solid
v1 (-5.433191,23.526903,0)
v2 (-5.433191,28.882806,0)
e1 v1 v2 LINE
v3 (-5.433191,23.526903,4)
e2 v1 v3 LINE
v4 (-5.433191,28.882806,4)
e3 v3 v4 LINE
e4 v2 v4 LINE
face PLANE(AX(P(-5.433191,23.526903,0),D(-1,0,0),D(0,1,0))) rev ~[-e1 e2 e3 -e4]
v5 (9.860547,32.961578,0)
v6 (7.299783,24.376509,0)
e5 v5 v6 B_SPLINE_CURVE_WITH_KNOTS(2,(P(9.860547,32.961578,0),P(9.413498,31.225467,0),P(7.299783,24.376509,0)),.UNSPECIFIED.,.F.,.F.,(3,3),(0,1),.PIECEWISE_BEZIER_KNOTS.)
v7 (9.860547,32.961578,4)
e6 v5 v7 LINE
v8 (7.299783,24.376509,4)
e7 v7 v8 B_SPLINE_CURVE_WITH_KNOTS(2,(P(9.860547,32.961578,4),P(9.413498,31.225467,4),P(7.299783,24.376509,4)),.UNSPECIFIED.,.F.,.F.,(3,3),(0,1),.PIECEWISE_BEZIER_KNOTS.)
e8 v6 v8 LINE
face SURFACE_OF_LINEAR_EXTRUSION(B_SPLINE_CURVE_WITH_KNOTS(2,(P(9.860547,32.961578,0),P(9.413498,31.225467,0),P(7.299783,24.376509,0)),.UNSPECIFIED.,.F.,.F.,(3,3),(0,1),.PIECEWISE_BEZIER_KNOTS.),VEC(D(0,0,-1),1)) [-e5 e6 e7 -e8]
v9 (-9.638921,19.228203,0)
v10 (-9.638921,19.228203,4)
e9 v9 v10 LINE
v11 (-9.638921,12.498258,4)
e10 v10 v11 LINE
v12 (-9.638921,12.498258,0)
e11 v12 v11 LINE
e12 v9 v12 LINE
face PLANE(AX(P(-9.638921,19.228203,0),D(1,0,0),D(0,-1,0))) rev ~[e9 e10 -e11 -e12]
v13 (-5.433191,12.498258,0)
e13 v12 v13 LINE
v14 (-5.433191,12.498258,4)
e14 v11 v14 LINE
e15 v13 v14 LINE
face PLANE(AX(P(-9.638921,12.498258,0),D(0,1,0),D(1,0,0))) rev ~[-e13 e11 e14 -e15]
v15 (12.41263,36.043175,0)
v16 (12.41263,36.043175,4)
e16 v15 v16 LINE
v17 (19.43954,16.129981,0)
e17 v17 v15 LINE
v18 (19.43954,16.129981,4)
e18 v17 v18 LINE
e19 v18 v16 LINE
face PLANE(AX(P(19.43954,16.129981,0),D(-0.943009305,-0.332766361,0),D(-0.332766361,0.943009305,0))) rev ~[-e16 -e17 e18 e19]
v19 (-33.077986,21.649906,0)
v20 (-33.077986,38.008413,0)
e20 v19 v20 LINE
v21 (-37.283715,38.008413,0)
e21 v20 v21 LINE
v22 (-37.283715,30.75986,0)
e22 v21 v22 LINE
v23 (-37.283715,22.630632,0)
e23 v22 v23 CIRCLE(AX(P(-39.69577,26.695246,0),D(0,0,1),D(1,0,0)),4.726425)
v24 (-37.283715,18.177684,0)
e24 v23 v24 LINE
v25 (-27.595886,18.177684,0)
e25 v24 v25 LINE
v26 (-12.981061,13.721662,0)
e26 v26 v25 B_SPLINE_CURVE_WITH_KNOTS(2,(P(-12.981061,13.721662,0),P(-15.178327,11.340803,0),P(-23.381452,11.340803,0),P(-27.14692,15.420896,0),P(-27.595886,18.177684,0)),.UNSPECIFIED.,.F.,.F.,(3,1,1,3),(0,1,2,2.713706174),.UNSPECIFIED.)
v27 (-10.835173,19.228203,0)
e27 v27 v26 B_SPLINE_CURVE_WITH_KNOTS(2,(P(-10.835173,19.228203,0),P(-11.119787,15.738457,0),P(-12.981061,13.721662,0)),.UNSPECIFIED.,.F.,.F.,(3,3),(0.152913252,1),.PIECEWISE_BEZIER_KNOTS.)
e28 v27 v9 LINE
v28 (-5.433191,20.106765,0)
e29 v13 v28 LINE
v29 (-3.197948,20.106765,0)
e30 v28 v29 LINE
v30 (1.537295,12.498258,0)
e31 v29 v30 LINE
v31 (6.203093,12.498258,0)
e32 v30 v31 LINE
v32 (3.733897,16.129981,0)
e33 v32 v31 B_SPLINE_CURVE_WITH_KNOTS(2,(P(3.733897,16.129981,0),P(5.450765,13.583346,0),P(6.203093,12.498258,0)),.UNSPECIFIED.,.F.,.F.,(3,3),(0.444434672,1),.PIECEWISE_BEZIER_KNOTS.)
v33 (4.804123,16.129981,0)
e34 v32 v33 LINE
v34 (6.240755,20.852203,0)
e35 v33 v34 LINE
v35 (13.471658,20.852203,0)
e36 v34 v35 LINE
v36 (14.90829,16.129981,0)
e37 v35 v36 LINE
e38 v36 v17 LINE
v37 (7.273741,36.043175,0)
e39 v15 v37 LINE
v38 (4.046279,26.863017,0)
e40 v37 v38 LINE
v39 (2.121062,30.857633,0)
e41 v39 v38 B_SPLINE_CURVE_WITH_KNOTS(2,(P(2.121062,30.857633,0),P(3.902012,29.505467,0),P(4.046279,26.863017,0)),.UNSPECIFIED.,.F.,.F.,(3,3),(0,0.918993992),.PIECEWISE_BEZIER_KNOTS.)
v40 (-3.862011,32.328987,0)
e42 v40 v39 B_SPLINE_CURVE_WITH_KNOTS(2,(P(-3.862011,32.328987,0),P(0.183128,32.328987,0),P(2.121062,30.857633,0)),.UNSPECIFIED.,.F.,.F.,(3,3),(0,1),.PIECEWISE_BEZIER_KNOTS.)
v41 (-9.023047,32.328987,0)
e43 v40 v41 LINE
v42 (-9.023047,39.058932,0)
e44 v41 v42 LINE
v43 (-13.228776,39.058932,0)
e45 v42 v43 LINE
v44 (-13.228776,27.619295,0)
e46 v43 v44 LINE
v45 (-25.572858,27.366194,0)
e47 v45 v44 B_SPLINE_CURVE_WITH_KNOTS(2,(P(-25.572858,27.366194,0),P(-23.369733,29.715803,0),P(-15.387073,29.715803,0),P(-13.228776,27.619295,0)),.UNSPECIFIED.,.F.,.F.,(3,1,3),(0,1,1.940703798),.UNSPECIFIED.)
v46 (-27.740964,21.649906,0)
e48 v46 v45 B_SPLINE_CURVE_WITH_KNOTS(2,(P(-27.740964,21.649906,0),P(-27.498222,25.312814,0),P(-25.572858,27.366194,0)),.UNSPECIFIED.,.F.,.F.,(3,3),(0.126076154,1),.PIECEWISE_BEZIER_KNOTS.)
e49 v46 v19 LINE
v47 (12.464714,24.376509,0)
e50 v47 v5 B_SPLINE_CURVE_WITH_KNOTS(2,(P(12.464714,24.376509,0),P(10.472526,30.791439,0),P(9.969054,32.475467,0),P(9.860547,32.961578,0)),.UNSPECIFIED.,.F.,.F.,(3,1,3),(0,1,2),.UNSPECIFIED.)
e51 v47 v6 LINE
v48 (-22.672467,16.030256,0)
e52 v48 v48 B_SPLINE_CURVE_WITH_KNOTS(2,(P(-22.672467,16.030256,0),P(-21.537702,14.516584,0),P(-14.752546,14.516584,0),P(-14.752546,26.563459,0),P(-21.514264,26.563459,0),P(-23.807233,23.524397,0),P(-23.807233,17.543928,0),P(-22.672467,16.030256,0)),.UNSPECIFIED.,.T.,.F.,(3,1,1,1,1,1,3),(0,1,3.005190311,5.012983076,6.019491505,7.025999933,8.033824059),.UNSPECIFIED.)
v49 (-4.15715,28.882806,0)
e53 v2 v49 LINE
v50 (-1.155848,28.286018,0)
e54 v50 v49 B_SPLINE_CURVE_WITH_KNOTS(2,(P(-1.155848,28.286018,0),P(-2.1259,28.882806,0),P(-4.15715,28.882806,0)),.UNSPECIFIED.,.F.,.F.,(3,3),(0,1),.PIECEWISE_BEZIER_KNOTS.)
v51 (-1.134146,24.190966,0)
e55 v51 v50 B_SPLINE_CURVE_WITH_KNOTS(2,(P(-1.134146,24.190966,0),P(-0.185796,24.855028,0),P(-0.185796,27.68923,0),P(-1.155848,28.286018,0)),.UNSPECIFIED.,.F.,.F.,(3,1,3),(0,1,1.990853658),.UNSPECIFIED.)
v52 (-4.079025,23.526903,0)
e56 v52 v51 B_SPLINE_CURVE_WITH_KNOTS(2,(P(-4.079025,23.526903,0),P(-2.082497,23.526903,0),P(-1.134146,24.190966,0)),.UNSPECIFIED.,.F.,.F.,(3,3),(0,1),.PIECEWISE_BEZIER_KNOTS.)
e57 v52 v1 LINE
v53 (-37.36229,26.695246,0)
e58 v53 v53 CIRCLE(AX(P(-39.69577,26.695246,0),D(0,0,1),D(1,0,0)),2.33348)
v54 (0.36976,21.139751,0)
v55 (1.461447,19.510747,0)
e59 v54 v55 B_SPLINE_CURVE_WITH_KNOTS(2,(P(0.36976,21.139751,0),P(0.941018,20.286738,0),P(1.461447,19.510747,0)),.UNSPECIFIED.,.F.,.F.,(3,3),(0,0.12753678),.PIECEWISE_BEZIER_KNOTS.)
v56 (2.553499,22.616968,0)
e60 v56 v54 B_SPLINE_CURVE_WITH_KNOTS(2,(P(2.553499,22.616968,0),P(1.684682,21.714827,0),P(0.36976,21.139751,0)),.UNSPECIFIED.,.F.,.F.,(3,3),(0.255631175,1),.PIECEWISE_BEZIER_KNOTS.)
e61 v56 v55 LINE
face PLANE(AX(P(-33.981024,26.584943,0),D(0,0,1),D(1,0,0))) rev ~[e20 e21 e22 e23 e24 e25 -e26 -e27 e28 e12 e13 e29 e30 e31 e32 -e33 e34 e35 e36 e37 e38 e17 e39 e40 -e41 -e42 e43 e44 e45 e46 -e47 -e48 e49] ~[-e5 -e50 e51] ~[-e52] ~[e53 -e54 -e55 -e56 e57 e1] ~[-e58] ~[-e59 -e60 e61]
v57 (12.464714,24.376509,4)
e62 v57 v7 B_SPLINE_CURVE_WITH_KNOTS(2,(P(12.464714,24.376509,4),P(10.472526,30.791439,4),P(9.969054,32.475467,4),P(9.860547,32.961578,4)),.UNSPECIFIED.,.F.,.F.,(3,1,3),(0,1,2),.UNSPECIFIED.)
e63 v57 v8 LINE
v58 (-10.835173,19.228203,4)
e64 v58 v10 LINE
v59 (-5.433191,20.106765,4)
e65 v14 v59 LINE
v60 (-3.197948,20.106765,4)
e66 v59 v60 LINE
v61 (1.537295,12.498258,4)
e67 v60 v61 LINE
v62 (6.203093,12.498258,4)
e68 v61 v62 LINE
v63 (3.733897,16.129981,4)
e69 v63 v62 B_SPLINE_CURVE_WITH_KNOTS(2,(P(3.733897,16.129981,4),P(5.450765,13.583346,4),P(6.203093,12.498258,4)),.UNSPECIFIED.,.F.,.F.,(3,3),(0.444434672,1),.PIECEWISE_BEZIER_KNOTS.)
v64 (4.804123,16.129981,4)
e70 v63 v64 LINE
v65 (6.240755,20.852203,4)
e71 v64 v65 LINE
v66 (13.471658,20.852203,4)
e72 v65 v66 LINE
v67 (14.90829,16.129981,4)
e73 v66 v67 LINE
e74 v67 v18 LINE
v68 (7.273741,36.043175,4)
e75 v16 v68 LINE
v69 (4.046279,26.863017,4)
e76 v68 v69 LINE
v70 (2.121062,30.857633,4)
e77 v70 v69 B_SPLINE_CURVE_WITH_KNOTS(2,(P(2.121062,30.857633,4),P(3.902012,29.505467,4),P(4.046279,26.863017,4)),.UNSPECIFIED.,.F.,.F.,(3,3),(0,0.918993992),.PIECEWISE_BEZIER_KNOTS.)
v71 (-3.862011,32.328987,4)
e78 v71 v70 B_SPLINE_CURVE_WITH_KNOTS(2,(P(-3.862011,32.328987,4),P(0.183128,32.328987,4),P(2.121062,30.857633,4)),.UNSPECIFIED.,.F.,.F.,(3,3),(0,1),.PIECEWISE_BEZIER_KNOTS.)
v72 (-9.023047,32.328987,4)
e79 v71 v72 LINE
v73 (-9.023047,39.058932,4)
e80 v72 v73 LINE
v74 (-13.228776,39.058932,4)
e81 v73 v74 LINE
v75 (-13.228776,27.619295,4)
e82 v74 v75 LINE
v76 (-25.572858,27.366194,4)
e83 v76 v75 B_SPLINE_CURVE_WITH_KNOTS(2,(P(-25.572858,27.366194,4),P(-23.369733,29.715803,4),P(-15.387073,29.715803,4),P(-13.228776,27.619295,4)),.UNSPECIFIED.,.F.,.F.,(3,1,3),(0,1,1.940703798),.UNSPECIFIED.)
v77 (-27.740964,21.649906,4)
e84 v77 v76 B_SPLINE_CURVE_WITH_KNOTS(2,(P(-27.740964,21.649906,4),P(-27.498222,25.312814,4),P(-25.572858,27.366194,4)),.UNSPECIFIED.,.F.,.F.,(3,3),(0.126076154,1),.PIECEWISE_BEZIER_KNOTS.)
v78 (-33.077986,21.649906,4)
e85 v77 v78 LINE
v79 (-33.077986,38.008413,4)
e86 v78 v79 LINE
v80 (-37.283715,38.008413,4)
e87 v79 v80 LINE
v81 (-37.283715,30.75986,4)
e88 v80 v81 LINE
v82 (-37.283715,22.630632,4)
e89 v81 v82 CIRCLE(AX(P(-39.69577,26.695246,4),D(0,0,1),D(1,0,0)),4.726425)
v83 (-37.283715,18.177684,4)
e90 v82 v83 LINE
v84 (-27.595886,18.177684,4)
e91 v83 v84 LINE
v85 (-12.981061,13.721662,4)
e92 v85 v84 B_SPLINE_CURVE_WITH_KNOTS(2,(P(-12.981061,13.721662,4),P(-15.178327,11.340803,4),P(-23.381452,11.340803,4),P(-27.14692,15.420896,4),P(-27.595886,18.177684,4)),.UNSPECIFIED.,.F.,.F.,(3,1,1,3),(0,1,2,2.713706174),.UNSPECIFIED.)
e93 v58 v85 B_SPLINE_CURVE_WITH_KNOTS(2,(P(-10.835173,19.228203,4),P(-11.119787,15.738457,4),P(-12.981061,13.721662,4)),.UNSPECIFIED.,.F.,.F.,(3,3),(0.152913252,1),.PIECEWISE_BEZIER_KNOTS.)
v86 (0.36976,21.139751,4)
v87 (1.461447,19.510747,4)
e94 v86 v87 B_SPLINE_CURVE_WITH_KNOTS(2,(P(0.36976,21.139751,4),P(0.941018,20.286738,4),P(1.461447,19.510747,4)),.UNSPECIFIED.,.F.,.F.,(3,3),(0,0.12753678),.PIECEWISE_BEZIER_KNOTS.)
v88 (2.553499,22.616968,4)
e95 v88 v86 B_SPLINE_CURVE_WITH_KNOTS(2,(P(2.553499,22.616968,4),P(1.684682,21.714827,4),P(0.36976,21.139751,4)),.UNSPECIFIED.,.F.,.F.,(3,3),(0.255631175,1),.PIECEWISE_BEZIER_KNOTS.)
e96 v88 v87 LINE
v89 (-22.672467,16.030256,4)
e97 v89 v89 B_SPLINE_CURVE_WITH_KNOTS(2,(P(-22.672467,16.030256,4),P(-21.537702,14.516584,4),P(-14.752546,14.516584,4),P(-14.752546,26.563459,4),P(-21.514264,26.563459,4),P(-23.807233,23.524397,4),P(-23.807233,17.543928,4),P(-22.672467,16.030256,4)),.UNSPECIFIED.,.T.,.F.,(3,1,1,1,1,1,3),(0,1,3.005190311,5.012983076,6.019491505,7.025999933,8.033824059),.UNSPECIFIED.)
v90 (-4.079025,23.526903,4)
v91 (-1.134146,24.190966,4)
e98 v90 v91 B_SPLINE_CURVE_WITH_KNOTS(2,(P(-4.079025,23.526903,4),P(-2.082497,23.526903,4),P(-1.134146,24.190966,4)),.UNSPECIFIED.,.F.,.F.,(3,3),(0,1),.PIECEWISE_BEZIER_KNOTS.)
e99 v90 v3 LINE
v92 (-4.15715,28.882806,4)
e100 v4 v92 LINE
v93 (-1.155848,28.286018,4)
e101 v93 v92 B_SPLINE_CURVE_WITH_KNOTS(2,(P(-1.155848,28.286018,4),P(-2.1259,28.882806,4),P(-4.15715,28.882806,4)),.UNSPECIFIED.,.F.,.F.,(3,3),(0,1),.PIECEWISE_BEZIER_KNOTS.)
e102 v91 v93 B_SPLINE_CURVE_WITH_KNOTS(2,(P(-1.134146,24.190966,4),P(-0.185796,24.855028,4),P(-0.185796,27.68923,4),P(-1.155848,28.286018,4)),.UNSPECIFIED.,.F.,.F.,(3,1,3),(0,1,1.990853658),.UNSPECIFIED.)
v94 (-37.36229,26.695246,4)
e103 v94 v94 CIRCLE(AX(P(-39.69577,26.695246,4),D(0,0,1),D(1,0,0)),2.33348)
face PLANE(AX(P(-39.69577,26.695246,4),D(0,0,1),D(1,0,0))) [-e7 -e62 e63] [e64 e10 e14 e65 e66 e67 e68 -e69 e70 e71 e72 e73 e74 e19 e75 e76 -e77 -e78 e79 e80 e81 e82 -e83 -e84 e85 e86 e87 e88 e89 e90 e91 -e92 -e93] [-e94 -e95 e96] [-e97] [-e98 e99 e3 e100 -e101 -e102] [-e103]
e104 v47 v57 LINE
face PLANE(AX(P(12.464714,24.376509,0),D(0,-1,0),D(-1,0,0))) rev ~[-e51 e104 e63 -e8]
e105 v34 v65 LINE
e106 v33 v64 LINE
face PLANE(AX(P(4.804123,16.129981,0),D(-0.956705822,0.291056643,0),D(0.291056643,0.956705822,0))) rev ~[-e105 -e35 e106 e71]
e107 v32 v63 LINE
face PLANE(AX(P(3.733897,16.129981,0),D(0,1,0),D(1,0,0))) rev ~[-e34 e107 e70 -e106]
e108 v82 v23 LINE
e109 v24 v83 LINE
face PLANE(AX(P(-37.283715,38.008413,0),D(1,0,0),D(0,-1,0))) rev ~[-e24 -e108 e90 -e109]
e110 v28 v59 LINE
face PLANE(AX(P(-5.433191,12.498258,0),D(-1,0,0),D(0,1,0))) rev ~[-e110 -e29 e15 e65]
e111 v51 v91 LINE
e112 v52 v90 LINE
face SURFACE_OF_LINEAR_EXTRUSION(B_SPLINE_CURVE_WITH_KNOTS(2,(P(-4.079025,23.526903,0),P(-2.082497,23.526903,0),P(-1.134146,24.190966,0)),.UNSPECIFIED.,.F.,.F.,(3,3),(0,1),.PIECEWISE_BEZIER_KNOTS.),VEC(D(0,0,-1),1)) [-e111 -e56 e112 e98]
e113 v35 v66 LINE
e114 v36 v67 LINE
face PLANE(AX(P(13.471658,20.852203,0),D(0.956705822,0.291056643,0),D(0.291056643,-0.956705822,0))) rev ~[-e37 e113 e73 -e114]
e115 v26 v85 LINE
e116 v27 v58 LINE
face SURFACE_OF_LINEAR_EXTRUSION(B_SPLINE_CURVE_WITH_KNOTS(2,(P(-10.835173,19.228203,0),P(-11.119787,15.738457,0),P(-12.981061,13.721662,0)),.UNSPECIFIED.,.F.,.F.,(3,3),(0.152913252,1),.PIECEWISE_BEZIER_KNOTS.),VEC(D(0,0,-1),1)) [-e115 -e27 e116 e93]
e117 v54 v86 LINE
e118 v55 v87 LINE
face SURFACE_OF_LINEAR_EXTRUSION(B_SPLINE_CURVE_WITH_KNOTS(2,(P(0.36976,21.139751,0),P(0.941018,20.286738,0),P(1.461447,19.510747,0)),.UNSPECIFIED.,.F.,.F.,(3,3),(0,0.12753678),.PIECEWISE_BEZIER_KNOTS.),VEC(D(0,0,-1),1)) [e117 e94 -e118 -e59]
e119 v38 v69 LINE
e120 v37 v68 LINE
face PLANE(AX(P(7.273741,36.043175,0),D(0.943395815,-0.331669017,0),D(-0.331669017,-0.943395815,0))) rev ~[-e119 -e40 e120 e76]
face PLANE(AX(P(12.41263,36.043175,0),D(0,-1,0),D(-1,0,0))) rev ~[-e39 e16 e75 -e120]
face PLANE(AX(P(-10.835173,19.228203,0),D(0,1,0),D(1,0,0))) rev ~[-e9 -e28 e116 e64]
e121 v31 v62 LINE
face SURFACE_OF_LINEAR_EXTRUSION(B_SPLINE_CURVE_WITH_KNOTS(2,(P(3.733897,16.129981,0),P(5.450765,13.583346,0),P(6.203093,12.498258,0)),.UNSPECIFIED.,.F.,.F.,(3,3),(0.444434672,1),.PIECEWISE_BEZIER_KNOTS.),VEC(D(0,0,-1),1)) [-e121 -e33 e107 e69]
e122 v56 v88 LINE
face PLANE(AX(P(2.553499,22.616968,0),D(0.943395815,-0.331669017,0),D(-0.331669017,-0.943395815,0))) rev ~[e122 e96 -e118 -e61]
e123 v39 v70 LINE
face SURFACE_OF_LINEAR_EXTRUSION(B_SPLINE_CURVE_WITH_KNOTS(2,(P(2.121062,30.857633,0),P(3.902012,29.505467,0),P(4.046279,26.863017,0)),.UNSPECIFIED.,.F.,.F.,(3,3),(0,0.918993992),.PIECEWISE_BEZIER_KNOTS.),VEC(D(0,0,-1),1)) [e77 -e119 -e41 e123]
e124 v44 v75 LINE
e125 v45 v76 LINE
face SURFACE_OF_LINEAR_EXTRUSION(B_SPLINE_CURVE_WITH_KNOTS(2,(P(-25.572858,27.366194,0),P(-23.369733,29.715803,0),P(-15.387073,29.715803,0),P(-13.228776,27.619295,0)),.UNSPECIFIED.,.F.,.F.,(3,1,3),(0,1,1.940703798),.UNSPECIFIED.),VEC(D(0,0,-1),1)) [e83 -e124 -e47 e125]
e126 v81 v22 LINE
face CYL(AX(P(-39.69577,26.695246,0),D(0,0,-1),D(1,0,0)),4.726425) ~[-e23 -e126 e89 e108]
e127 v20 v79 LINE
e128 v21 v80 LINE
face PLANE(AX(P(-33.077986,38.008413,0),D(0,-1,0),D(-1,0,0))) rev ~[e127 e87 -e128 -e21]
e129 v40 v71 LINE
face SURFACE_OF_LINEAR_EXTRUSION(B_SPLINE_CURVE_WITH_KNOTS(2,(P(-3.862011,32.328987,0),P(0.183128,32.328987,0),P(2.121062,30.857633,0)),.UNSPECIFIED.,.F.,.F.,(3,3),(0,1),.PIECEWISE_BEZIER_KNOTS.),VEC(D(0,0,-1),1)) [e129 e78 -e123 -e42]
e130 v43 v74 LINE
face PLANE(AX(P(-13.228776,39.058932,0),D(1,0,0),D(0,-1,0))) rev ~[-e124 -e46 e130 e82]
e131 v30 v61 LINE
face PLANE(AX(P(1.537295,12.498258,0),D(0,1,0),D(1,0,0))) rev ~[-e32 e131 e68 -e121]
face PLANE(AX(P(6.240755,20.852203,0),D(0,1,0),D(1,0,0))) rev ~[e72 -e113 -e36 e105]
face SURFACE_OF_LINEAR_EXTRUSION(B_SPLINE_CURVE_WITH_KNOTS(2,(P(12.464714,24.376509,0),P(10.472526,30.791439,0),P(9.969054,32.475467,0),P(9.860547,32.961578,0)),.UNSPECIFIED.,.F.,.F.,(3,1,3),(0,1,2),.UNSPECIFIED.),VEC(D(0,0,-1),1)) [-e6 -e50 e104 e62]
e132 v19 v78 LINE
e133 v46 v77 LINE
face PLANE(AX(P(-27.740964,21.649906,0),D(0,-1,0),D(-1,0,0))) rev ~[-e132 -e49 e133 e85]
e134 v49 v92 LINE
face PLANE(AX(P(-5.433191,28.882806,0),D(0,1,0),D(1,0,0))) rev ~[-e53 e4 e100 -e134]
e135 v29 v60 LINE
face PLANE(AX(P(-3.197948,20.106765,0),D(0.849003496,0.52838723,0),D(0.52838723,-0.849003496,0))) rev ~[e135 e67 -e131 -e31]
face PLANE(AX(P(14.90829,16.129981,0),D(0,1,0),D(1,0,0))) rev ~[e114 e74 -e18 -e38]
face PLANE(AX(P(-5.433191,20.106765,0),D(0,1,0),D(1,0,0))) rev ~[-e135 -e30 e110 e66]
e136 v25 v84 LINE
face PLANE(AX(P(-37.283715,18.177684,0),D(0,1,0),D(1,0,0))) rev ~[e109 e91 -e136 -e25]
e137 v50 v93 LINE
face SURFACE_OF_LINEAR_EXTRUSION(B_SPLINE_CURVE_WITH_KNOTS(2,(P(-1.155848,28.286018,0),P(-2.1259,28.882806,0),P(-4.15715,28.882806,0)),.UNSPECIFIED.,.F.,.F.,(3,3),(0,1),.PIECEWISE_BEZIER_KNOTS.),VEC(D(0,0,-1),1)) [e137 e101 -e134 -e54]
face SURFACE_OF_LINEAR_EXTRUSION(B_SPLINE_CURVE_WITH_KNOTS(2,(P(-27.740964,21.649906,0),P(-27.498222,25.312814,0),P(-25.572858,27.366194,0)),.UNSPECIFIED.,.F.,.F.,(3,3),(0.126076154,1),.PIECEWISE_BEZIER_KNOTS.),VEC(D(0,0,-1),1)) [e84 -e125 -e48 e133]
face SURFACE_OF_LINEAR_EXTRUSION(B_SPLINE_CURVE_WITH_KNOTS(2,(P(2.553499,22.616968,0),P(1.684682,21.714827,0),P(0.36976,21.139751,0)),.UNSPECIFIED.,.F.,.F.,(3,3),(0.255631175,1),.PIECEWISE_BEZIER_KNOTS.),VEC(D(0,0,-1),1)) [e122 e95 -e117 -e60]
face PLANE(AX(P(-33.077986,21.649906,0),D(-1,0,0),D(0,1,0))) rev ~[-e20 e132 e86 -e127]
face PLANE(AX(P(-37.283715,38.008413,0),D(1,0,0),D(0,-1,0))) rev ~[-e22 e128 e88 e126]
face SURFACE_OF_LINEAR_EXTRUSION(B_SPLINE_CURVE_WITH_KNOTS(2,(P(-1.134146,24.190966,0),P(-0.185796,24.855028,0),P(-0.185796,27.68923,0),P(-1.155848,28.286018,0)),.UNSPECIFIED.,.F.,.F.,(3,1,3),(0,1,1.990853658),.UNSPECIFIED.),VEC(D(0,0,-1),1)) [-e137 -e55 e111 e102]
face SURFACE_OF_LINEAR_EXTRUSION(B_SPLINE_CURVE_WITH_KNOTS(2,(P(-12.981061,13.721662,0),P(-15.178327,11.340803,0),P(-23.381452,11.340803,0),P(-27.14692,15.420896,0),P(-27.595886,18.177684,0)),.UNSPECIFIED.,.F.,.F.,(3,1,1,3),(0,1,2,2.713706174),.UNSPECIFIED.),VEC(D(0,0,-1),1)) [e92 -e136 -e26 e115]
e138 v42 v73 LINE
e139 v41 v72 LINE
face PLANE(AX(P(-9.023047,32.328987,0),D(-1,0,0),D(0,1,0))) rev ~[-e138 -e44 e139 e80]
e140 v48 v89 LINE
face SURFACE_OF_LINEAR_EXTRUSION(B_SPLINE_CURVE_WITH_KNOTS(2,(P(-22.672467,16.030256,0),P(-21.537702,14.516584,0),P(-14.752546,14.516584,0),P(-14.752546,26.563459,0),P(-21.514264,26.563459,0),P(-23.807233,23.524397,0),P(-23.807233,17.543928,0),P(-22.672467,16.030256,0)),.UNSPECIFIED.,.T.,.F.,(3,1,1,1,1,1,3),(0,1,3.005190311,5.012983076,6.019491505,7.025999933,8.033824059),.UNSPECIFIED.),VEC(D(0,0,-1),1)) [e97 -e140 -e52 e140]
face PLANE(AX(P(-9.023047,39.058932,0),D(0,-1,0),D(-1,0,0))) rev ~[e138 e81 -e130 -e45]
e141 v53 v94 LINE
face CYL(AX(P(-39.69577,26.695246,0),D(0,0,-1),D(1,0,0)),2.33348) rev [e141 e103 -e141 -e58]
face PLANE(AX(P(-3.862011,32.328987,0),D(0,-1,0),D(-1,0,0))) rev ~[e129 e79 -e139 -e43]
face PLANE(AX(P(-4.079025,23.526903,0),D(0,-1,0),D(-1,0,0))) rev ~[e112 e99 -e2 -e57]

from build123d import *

# Parameters (mm, degrees)
F0_W     = 0.6158737143
F0_H     = 13.1007836608
F1_DEPTH = 4
F2_R     = 4.7264248865
F2_R_2   = 2.3334796288
F3_DEPTH = 4


with BuildPart() as f1:
    # F0 (on Top) → F1 (new body)
    with BuildSketch(Plane.XY):
        with BuildLine():
            Line((-37.283715081, 38.0084128603), (-37.283715081, 18.1776836936))
            Line((-37.283715081, 18.1776836936), (-27.5958860841, 18.1776836936))
            add(Edge.make_bspline(
                [(-27.5958860841, 18.1776836936), (-27.7759831045, 19.2835325513), (-27.7759831045, 20.5595530824)],
                knots=[0.7137061736, 0.7137061736, 0.7137061736, 1, 1, 1], degree=2))
            add(Edge.make_bspline(
                [(-27.7759831045, 20.5595530824), (-27.7759831045, 21.1214784417), (-27.7409639994, 21.6499059158)],
                knots=[0, 0, 0, 0.1260761542, 0.1260761542, 0.1260761542], degree=2))
            Line((-27.7409639994, 21.6499059158), (-33.0779859144, 21.6499059158))
            Line((-33.0779859144, 21.6499059158), (-33.0779859144, 38.0084128603))
            Line((-33.0779859144, 38.0084128603), (-37.283715081, 38.0084128603))
        make_face()
        with BuildLine():
            add(Edge.make_bspline(
                [(-27.5958860841, 18.1776836936), (-27.7759831045, 19.2835325513), (-27.7759831045, 20.5595530824)],
                knots=[0.7137061736, 0.7137061736, 0.7137061736, 1, 1, 1], degree=2))
            Line((-27.5958860841, 18.1776836936), (-25.0354511921, 18.1776836936))
            Line((-25.0354511921, 18.1776836936), (-25.0354511921, 21.6499059158))
            Line((-25.0354511921, 21.6499059158), (-27.7409639994, 21.6499059158))
            add(Edge.make_bspline(
                [(-27.7759831045, 20.5595530824), (-27.7759831045, 21.1214784417), (-27.7409639994, 21.6499059158)],
                knots=[0, 0, 0, 0.1260761542, 0.1260761542, 0.1260761542], degree=2))
        make_face()
        with BuildLine():
            Line((-25.0354511921, 18.1776836936), (-27.5958860841, 18.1776836936))
            add(Edge.make_bspline(
                [(-25.5787174795, 13.7216624574), (-27.146919521, 15.4208964917), (-27.5958860841, 18.1776836936)],
                knots=[0, 0, 0, 0.7137061736, 0.7137061736, 0.7137061736], degree=2))
            add(Edge.make_bspline(
                [(-19.2798893545, 11.3408030824), (-23.3814518545, 11.3408030824), (-25.5787174795, 13.7216624574)],
                knots=[0, 0, 0, 1, 1, 1], degree=2))
            add(Edge.make_bspline(
                [(-12.9810612295, 13.7216624574), (-15.1783268545, 11.3408030824), (-19.2798893545, 11.3408030824)],
                knots=[0, 0, 0, 1, 1, 1], degree=2))
            add(Edge.make_bspline(
                [(-10.8351730856, 19.228203094), (-11.1197866358, 15.7384568838), (-12.9810612295, 13.7216624574)],
                knots=[0.1529132516, 0.1529132516, 0.1529132516, 1, 1, 1], degree=2))
            Line((-10.8351730856, 19.228203094), (-13.228776075, 19.228203094))
            Line((-13.228776075, 19.228203094), (-13.228776075, 27.6192945451))
            add(Edge.make_bspline(
                [(-19.2564518545, 29.7158030824), (-15.3870725584, 29.7158030824), (-13.228776075, 27.6192945451)],
                knots=[0, 0, 0, 0.9407037985, 0.9407037985, 0.9407037985], degree=2))
            add(Edge.make_bspline(
                [(-25.5728581045, 27.3661937074), (-23.3697331045, 29.7158030824), (-19.2564518545, 29.7158030824)],
                knots=[0, 0, 0, 1, 1, 1], degree=2))
            add(Edge.make_bspline(
                [(-27.7409639994, 21.6499059158), (-27.4982215772, 25.3128140464), (-25.5728581045, 27.3661937074)],
                knots=[0.1260761542, 0.1260761542, 0.1260761542, 1, 1, 1], degree=2))
            Line((-27.7409639994, 21.6499059158), (-25.0354511921, 21.6499059158))
            Line((-25.0354511921, 21.6499059158), (-25.0354511921, 18.1776836936))
        make_face()
        with BuildLine():
            add(Edge.make_bspline(
                [(-23.8072331045, 20.5361155824), (-23.8072331045, 17.5439280824), (-22.6724674795, 16.0302562074)],
                knots=[0, 0, 0, 1, 1, 1], degree=2))
            add(Edge.make_bspline(
                [(-22.6607487295, 25.0439280824), (-23.8072331045, 23.5243968324), (-23.8072331045, 20.5361155824)],
                knots=[0, 0, 0, 1, 1, 1], degree=2))
            add(Edge.make_bspline(
                [(-19.2564518545, 26.5634593324), (-21.5142643545, 26.5634593324), (-22.6607487295, 25.0439280824)],
                knots=[0, 0, 0, 1, 1, 1], degree=2))
            add(Edge.make_bspline(
                [(-14.7525456045, 20.5361155824), (-14.7525456045, 26.5634593324), (-19.2564518545, 26.5634593324)],
                knots=[0, 0, 0, 1, 1, 1], degree=2))
            add(Edge.make_bspline(
                [(-19.2798893545, 14.5165843324), (-14.7525456045, 14.5165843324), (-14.7525456045, 20.5361155824)],
                knots=[0, 0, 0, 1, 1, 1], degree=2))
            add(Edge.make_bspline(
                [(-22.6724674795, 16.0302562074), (-21.5377018545, 14.5165843324), (-19.2798893545, 14.5165843324)],
                knots=[0, 0, 0, 1, 1, 1], degree=2))
        make_face(mode=Mode.SUBTRACT)
        with BuildLine():
            Line((-13.228776075, 19.228203094), (-10.8351730856, 19.228203094))
            add(Edge.make_bspline(
                [(-10.7837956045, 20.5361155824), (-10.7837956045, 19.8581603459), (-10.8351730856, 19.228203094)],
                knots=[0, 0, 0, 0.1529132516, 0.1529132516, 0.1529132516], degree=2))
            add(Edge.make_bspline(
                [(-12.9634831045, 27.3466624574), (-10.7837956045, 24.9775218324), (-10.7837956045, 20.5361155824)],
                knots=[0, 0, 0, 1, 1, 1], degree=2))
            add(Edge.make_bspline(
                [(-13.228776075, 27.6192945451), (-13.0927302937, 27.4871434973), (-12.9634831045, 27.3466624574)],
                knots=[0.9407037985, 0.9407037985, 0.9407037985, 1, 1, 1], degree=2))
            Line((-13.228776075, 27.6192945451), (-13.228776075, 19.228203094))
        make_face()
        with BuildLine():
            add(Edge.make_bspline(
                [(-10.7837956045, 20.5361155824), (-10.7837956045, 19.8581603459), (-10.8351730856, 19.228203094)],
                knots=[0, 0, 0, 0.1529132516, 0.1529132516, 0.1529132516], degree=2))
            Line((-10.8351730856, 19.228203094), (-9.6389206226, 19.228203094))
            Line((-9.6389206226, 19.228203094), (-9.6389206226, 32.3289867548))
            Line((-9.6389206226, 32.3289867548), (-9.0230469083, 32.3289867548))
            Line((-9.0230469083, 32.3289867548), (-9.0230469083, 39.0589322607))
            Line((-9.0230469083, 39.0589322607), (-13.228776075, 39.0589322607))
            Line((-13.228776075, 39.0589322607), (-13.228776075, 27.6192945451))
            add(Edge.make_bspline(
                [(-13.228776075, 27.6192945451), (-13.0927302937, 27.4871434973), (-12.9634831045, 27.3466624574)],
                knots=[0.9407037985, 0.9407037985, 0.9407037985, 1, 1, 1], degree=2))
            add(Edge.make_bspline(
                [(-12.9634831045, 27.3466624574), (-10.7837956045, 24.9775218324), (-10.7837956045, 20.5361155824)],
                knots=[0, 0, 0, 1, 1, 1], degree=2))
        make_face()
        with Locations((-9.3309837654, 25.7785949244)):
            Rectangle(F0_W, F0_H)
        with BuildLine():
            Line((-9.0230469083, 19.228203094), (-9.6389206226, 19.228203094))
            Line((-9.6389206226, 19.228203094), (-9.6389206226, 12.4982575881))
            Line((-9.6389206226, 12.4982575881), (-5.4331914559, 12.4982575881))
            Line((-5.4331914559, 12.4982575881), (-5.4331914559, 20.1067645326))
            Line((-5.4331914559, 20.1067645326), (-3.1979484003, 20.1067645326))
            Line((-3.1979484003, 20.1067645326), (1.5372946552, 12.4982575881))
            Line((1.5372946552, 12.4982575881), (6.2030932663, 12.4982575881))
            add(Edge.make_bspline(
                [(3.7338970639, 16.1299808387), (5.4507652179, 13.5833461195), (6.2030932663, 12.4982575881)],
                knots=[0.4444346719, 0.4444346719, 0.4444346719, 1, 1, 1], degree=2))
            Line((3.7338970639, 16.1299808387), (0.2728733631, 16.1299808387))
            Line((0.2728733631, 16.1299808387), (1.4614468222, 19.5107465115))
            add(Edge.make_bspline(
                [(0.369759933, 21.1397506437), (0.9410184247, 20.2867377215), (1.4614468222, 19.5107465115)],
                knots=[0, 0, 0, 0.1275367795, 0.1275367795, 0.1275367795], degree=2))
            add(Edge.make_bspline(
                [(2.5534989348, 22.6169678955), (1.6846822939, 21.7148272536), (0.369759933, 21.1397506437)],
                knots=[0.2556311745, 0.2556311745, 0.2556311745, 1, 1, 1], degree=2))
            Line((2.5534989348, 22.6169678955), (4.0462793726, 26.8630166548))
            add(Edge.make_bspline(
                [(2.1210620163, 30.8576325881), (3.902011744, 29.5054669494), (4.0462793726, 26.8630166548)],
                knots=[0, 0, 0, 0.9189939916, 0.9189939916, 0.9189939916], degree=2))
            add(Edge.make_bspline(
                [(-3.8620109003, 32.3289867548), (0.1831279885, 32.3289867548), (2.1210620163, 30.8576325881)],
                knots=[0, 0, 0, 1, 1, 1], degree=2))
            Line((-3.8620109003, 32.3289867548), (-9.0230469083, 32.3289867548))
            Line((-9.0230469083, 32.3289867548), (-9.0230469083, 19.228203094))
        make_face()
        with BuildLine():
            Line((-4.0790247892, 23.5269034215), (-5.4331914559, 23.5269034215))
            Line((-5.4331914559, 23.5269034215), (-5.4331914559, 28.8828061992))
            Line((-5.4331914559, 28.8828061992), (-4.1571497892, 28.8828061992))
            add(Edge.make_bspline(
                [(-1.1558477059, 28.2860180048), (-2.1258997892, 28.8828061992), (-4.1571497892, 28.8828061992)],
                knots=[0, 0, 0, 1, 1, 1], degree=2))
            add(Edge.make_bspline(
                [(-0.1857956226, 26.2786395326), (-0.1857956226, 27.6892298103), (-1.1558477059, 28.2860180048)],
                knots=[0, 0, 0, 1, 1, 1], degree=2))
            add(Edge.make_bspline(
                [(-1.134146317, 24.1909659215), (-0.1857956226, 24.8550284215), (-0.1857956226, 26.2786395326)],
                knots=[0, 0, 0, 1, 1, 1], degree=2))
            add(Edge.make_bspline(
                [(-4.0790247892, 23.5269034215), (-2.0824970115, 23.5269034215), (-1.134146317, 24.1909659215)],
                knots=[0, 0, 0, 1, 1, 1], degree=2))
        make_face(mode=Mode.SUBTRACT)
        with BuildLine():
            Line((7.2737414187, 36.0431752831), (4.0462793726, 26.8630166548))
            add(Edge.make_bspline(
                [(4.0462793726, 26.8630166548), (4.0589960441, 26.6300941845), (4.0589960441, 26.387146477)],
                knots=[0.9189939916, 0.9189939916, 0.9189939916, 1, 1, 1], degree=2))
            add(Edge.make_bspline(
                [(4.0589960441, 26.387146477), (4.0589960441, 24.6380145326), (3.0976245163, 23.2751673103)],
                knots=[0, 0, 0, 1, 1, 1], degree=2))
            add(Edge.make_bspline(
                [(3.0976245163, 23.2751673103), (2.8518679835, 22.9267810742), (2.5534989348, 22.6169678955)],
                knots=[0, 0, 0, 0.2556311745, 0.2556311745, 0.2556311745], degree=2))
            Line((2.5534989348, 22.6169678955), (1.4614468222, 19.5107465115))
            add(Edge.make_bspline(
                [(1.4614468222, 19.5107465115), (2.7545848714, 17.5825970016), (3.7338970639, 16.1299808387)],
                knots=[0.1275367795, 0.1275367795, 0.1275367795, 0.4444346719, 0.4444346719, 0.4444346719], degree=2))
            Line((3.7338970639, 16.1299808387), (4.8041233631, 16.1299808387))
            Line((4.8041233631, 16.1299808387), (6.2407553076, 20.8522030609))
            Line((6.2407553076, 20.8522030609), (13.4716580853, 20.8522030609))
            Line((13.4716580853, 20.8522030609), (14.9082900298, 16.1299808387))
            Line((14.9082900298, 16.1299808387), (19.4395400298, 16.1299808387))
            Line((19.4395400298, 16.1299808387), (12.4126303076, 36.0431752831))
            Line((12.4126303076, 36.0431752831), (7.2737414187, 36.0431752831))
        make_face()
        with BuildLine():
            add(Edge.make_bspline(
                [(12.4647136409, 24.3765086165), (10.4725261409, 30.791439172), (10.2207900298, 31.6334530609)],
                knots=[0, 0, 0, 1, 1, 1], degree=2))
            Line((12.4647136409, 24.3765086165), (7.2997830853, 24.3765086165))
            add(Edge.make_bspline(
                [(9.8605469742, 32.9615780609), (9.4134983631, 31.2254669498), (7.2997830853, 24.3765086165)],
                knots=[0, 0, 0, 1, 1, 1], degree=2))
            add(Edge.make_bspline(
                [(10.2207900298, 31.6334530609), (9.9690539187, 32.4754669498), (9.8605469742, 32.9615780609)],
                knots=[0, 0, 0, 1, 1, 1], degree=2))
        make_face(mode=Mode.SUBTRACT)
        with BuildLine():
            add(Edge.make_bspline(
                [(4.0462793726, 26.8630166548), (4.0589960441, 26.6300941845), (4.0589960441, 26.387146477)],
                knots=[0.9189939916, 0.9189939916, 0.9189939916, 1, 1, 1], degree=2))
            Line((4.0462793726, 26.8630166548), (2.5534989348, 22.6169678955))
            add(Edge.make_bspline(
                [(3.0976245163, 23.2751673103), (2.8518679835, 22.9267810742), (2.5534989348, 22.6169678955)],
                knots=[0, 0, 0, 0.2556311745, 0.2556311745, 0.2556311745], degree=2))
            add(Edge.make_bspline(
                [(4.0589960441, 26.387146477), (4.0589960441, 24.6380145326), (3.0976245163, 23.2751673103)],
                knots=[0, 0, 0, 1, 1, 1], degree=2))
        make_face()
        with BuildLine():
            add(Edge.make_bspline(
                [(1.4614468222, 19.5107465115), (2.7545848714, 17.5825970016), (3.7338970639, 16.1299808387)],
                knots=[0.1275367795, 0.1275367795, 0.1275367795, 0.4444346719, 0.4444346719, 0.4444346719], degree=2))
            Line((1.4614468222, 19.5107465115), (0.2728733631, 16.1299808387))
            Line((0.2728733631, 16.1299808387), (3.7338970639, 16.1299808387))
        make_face()
    extrude(amount=F1_DEPTH)

    # F2 (on Top) → F3 (join)
    with BuildSketch(Plane.XY):
        with Locations((-39.6957695484, 26.6952458769)):
            Circle(F2_R)
        with Locations((-39.6957695484, 26.6952458769)):
            Circle(F2_R_2, mode=Mode.SUBTRACT)
    extrude(amount=F3_DEPTH)


solid = f1.part
